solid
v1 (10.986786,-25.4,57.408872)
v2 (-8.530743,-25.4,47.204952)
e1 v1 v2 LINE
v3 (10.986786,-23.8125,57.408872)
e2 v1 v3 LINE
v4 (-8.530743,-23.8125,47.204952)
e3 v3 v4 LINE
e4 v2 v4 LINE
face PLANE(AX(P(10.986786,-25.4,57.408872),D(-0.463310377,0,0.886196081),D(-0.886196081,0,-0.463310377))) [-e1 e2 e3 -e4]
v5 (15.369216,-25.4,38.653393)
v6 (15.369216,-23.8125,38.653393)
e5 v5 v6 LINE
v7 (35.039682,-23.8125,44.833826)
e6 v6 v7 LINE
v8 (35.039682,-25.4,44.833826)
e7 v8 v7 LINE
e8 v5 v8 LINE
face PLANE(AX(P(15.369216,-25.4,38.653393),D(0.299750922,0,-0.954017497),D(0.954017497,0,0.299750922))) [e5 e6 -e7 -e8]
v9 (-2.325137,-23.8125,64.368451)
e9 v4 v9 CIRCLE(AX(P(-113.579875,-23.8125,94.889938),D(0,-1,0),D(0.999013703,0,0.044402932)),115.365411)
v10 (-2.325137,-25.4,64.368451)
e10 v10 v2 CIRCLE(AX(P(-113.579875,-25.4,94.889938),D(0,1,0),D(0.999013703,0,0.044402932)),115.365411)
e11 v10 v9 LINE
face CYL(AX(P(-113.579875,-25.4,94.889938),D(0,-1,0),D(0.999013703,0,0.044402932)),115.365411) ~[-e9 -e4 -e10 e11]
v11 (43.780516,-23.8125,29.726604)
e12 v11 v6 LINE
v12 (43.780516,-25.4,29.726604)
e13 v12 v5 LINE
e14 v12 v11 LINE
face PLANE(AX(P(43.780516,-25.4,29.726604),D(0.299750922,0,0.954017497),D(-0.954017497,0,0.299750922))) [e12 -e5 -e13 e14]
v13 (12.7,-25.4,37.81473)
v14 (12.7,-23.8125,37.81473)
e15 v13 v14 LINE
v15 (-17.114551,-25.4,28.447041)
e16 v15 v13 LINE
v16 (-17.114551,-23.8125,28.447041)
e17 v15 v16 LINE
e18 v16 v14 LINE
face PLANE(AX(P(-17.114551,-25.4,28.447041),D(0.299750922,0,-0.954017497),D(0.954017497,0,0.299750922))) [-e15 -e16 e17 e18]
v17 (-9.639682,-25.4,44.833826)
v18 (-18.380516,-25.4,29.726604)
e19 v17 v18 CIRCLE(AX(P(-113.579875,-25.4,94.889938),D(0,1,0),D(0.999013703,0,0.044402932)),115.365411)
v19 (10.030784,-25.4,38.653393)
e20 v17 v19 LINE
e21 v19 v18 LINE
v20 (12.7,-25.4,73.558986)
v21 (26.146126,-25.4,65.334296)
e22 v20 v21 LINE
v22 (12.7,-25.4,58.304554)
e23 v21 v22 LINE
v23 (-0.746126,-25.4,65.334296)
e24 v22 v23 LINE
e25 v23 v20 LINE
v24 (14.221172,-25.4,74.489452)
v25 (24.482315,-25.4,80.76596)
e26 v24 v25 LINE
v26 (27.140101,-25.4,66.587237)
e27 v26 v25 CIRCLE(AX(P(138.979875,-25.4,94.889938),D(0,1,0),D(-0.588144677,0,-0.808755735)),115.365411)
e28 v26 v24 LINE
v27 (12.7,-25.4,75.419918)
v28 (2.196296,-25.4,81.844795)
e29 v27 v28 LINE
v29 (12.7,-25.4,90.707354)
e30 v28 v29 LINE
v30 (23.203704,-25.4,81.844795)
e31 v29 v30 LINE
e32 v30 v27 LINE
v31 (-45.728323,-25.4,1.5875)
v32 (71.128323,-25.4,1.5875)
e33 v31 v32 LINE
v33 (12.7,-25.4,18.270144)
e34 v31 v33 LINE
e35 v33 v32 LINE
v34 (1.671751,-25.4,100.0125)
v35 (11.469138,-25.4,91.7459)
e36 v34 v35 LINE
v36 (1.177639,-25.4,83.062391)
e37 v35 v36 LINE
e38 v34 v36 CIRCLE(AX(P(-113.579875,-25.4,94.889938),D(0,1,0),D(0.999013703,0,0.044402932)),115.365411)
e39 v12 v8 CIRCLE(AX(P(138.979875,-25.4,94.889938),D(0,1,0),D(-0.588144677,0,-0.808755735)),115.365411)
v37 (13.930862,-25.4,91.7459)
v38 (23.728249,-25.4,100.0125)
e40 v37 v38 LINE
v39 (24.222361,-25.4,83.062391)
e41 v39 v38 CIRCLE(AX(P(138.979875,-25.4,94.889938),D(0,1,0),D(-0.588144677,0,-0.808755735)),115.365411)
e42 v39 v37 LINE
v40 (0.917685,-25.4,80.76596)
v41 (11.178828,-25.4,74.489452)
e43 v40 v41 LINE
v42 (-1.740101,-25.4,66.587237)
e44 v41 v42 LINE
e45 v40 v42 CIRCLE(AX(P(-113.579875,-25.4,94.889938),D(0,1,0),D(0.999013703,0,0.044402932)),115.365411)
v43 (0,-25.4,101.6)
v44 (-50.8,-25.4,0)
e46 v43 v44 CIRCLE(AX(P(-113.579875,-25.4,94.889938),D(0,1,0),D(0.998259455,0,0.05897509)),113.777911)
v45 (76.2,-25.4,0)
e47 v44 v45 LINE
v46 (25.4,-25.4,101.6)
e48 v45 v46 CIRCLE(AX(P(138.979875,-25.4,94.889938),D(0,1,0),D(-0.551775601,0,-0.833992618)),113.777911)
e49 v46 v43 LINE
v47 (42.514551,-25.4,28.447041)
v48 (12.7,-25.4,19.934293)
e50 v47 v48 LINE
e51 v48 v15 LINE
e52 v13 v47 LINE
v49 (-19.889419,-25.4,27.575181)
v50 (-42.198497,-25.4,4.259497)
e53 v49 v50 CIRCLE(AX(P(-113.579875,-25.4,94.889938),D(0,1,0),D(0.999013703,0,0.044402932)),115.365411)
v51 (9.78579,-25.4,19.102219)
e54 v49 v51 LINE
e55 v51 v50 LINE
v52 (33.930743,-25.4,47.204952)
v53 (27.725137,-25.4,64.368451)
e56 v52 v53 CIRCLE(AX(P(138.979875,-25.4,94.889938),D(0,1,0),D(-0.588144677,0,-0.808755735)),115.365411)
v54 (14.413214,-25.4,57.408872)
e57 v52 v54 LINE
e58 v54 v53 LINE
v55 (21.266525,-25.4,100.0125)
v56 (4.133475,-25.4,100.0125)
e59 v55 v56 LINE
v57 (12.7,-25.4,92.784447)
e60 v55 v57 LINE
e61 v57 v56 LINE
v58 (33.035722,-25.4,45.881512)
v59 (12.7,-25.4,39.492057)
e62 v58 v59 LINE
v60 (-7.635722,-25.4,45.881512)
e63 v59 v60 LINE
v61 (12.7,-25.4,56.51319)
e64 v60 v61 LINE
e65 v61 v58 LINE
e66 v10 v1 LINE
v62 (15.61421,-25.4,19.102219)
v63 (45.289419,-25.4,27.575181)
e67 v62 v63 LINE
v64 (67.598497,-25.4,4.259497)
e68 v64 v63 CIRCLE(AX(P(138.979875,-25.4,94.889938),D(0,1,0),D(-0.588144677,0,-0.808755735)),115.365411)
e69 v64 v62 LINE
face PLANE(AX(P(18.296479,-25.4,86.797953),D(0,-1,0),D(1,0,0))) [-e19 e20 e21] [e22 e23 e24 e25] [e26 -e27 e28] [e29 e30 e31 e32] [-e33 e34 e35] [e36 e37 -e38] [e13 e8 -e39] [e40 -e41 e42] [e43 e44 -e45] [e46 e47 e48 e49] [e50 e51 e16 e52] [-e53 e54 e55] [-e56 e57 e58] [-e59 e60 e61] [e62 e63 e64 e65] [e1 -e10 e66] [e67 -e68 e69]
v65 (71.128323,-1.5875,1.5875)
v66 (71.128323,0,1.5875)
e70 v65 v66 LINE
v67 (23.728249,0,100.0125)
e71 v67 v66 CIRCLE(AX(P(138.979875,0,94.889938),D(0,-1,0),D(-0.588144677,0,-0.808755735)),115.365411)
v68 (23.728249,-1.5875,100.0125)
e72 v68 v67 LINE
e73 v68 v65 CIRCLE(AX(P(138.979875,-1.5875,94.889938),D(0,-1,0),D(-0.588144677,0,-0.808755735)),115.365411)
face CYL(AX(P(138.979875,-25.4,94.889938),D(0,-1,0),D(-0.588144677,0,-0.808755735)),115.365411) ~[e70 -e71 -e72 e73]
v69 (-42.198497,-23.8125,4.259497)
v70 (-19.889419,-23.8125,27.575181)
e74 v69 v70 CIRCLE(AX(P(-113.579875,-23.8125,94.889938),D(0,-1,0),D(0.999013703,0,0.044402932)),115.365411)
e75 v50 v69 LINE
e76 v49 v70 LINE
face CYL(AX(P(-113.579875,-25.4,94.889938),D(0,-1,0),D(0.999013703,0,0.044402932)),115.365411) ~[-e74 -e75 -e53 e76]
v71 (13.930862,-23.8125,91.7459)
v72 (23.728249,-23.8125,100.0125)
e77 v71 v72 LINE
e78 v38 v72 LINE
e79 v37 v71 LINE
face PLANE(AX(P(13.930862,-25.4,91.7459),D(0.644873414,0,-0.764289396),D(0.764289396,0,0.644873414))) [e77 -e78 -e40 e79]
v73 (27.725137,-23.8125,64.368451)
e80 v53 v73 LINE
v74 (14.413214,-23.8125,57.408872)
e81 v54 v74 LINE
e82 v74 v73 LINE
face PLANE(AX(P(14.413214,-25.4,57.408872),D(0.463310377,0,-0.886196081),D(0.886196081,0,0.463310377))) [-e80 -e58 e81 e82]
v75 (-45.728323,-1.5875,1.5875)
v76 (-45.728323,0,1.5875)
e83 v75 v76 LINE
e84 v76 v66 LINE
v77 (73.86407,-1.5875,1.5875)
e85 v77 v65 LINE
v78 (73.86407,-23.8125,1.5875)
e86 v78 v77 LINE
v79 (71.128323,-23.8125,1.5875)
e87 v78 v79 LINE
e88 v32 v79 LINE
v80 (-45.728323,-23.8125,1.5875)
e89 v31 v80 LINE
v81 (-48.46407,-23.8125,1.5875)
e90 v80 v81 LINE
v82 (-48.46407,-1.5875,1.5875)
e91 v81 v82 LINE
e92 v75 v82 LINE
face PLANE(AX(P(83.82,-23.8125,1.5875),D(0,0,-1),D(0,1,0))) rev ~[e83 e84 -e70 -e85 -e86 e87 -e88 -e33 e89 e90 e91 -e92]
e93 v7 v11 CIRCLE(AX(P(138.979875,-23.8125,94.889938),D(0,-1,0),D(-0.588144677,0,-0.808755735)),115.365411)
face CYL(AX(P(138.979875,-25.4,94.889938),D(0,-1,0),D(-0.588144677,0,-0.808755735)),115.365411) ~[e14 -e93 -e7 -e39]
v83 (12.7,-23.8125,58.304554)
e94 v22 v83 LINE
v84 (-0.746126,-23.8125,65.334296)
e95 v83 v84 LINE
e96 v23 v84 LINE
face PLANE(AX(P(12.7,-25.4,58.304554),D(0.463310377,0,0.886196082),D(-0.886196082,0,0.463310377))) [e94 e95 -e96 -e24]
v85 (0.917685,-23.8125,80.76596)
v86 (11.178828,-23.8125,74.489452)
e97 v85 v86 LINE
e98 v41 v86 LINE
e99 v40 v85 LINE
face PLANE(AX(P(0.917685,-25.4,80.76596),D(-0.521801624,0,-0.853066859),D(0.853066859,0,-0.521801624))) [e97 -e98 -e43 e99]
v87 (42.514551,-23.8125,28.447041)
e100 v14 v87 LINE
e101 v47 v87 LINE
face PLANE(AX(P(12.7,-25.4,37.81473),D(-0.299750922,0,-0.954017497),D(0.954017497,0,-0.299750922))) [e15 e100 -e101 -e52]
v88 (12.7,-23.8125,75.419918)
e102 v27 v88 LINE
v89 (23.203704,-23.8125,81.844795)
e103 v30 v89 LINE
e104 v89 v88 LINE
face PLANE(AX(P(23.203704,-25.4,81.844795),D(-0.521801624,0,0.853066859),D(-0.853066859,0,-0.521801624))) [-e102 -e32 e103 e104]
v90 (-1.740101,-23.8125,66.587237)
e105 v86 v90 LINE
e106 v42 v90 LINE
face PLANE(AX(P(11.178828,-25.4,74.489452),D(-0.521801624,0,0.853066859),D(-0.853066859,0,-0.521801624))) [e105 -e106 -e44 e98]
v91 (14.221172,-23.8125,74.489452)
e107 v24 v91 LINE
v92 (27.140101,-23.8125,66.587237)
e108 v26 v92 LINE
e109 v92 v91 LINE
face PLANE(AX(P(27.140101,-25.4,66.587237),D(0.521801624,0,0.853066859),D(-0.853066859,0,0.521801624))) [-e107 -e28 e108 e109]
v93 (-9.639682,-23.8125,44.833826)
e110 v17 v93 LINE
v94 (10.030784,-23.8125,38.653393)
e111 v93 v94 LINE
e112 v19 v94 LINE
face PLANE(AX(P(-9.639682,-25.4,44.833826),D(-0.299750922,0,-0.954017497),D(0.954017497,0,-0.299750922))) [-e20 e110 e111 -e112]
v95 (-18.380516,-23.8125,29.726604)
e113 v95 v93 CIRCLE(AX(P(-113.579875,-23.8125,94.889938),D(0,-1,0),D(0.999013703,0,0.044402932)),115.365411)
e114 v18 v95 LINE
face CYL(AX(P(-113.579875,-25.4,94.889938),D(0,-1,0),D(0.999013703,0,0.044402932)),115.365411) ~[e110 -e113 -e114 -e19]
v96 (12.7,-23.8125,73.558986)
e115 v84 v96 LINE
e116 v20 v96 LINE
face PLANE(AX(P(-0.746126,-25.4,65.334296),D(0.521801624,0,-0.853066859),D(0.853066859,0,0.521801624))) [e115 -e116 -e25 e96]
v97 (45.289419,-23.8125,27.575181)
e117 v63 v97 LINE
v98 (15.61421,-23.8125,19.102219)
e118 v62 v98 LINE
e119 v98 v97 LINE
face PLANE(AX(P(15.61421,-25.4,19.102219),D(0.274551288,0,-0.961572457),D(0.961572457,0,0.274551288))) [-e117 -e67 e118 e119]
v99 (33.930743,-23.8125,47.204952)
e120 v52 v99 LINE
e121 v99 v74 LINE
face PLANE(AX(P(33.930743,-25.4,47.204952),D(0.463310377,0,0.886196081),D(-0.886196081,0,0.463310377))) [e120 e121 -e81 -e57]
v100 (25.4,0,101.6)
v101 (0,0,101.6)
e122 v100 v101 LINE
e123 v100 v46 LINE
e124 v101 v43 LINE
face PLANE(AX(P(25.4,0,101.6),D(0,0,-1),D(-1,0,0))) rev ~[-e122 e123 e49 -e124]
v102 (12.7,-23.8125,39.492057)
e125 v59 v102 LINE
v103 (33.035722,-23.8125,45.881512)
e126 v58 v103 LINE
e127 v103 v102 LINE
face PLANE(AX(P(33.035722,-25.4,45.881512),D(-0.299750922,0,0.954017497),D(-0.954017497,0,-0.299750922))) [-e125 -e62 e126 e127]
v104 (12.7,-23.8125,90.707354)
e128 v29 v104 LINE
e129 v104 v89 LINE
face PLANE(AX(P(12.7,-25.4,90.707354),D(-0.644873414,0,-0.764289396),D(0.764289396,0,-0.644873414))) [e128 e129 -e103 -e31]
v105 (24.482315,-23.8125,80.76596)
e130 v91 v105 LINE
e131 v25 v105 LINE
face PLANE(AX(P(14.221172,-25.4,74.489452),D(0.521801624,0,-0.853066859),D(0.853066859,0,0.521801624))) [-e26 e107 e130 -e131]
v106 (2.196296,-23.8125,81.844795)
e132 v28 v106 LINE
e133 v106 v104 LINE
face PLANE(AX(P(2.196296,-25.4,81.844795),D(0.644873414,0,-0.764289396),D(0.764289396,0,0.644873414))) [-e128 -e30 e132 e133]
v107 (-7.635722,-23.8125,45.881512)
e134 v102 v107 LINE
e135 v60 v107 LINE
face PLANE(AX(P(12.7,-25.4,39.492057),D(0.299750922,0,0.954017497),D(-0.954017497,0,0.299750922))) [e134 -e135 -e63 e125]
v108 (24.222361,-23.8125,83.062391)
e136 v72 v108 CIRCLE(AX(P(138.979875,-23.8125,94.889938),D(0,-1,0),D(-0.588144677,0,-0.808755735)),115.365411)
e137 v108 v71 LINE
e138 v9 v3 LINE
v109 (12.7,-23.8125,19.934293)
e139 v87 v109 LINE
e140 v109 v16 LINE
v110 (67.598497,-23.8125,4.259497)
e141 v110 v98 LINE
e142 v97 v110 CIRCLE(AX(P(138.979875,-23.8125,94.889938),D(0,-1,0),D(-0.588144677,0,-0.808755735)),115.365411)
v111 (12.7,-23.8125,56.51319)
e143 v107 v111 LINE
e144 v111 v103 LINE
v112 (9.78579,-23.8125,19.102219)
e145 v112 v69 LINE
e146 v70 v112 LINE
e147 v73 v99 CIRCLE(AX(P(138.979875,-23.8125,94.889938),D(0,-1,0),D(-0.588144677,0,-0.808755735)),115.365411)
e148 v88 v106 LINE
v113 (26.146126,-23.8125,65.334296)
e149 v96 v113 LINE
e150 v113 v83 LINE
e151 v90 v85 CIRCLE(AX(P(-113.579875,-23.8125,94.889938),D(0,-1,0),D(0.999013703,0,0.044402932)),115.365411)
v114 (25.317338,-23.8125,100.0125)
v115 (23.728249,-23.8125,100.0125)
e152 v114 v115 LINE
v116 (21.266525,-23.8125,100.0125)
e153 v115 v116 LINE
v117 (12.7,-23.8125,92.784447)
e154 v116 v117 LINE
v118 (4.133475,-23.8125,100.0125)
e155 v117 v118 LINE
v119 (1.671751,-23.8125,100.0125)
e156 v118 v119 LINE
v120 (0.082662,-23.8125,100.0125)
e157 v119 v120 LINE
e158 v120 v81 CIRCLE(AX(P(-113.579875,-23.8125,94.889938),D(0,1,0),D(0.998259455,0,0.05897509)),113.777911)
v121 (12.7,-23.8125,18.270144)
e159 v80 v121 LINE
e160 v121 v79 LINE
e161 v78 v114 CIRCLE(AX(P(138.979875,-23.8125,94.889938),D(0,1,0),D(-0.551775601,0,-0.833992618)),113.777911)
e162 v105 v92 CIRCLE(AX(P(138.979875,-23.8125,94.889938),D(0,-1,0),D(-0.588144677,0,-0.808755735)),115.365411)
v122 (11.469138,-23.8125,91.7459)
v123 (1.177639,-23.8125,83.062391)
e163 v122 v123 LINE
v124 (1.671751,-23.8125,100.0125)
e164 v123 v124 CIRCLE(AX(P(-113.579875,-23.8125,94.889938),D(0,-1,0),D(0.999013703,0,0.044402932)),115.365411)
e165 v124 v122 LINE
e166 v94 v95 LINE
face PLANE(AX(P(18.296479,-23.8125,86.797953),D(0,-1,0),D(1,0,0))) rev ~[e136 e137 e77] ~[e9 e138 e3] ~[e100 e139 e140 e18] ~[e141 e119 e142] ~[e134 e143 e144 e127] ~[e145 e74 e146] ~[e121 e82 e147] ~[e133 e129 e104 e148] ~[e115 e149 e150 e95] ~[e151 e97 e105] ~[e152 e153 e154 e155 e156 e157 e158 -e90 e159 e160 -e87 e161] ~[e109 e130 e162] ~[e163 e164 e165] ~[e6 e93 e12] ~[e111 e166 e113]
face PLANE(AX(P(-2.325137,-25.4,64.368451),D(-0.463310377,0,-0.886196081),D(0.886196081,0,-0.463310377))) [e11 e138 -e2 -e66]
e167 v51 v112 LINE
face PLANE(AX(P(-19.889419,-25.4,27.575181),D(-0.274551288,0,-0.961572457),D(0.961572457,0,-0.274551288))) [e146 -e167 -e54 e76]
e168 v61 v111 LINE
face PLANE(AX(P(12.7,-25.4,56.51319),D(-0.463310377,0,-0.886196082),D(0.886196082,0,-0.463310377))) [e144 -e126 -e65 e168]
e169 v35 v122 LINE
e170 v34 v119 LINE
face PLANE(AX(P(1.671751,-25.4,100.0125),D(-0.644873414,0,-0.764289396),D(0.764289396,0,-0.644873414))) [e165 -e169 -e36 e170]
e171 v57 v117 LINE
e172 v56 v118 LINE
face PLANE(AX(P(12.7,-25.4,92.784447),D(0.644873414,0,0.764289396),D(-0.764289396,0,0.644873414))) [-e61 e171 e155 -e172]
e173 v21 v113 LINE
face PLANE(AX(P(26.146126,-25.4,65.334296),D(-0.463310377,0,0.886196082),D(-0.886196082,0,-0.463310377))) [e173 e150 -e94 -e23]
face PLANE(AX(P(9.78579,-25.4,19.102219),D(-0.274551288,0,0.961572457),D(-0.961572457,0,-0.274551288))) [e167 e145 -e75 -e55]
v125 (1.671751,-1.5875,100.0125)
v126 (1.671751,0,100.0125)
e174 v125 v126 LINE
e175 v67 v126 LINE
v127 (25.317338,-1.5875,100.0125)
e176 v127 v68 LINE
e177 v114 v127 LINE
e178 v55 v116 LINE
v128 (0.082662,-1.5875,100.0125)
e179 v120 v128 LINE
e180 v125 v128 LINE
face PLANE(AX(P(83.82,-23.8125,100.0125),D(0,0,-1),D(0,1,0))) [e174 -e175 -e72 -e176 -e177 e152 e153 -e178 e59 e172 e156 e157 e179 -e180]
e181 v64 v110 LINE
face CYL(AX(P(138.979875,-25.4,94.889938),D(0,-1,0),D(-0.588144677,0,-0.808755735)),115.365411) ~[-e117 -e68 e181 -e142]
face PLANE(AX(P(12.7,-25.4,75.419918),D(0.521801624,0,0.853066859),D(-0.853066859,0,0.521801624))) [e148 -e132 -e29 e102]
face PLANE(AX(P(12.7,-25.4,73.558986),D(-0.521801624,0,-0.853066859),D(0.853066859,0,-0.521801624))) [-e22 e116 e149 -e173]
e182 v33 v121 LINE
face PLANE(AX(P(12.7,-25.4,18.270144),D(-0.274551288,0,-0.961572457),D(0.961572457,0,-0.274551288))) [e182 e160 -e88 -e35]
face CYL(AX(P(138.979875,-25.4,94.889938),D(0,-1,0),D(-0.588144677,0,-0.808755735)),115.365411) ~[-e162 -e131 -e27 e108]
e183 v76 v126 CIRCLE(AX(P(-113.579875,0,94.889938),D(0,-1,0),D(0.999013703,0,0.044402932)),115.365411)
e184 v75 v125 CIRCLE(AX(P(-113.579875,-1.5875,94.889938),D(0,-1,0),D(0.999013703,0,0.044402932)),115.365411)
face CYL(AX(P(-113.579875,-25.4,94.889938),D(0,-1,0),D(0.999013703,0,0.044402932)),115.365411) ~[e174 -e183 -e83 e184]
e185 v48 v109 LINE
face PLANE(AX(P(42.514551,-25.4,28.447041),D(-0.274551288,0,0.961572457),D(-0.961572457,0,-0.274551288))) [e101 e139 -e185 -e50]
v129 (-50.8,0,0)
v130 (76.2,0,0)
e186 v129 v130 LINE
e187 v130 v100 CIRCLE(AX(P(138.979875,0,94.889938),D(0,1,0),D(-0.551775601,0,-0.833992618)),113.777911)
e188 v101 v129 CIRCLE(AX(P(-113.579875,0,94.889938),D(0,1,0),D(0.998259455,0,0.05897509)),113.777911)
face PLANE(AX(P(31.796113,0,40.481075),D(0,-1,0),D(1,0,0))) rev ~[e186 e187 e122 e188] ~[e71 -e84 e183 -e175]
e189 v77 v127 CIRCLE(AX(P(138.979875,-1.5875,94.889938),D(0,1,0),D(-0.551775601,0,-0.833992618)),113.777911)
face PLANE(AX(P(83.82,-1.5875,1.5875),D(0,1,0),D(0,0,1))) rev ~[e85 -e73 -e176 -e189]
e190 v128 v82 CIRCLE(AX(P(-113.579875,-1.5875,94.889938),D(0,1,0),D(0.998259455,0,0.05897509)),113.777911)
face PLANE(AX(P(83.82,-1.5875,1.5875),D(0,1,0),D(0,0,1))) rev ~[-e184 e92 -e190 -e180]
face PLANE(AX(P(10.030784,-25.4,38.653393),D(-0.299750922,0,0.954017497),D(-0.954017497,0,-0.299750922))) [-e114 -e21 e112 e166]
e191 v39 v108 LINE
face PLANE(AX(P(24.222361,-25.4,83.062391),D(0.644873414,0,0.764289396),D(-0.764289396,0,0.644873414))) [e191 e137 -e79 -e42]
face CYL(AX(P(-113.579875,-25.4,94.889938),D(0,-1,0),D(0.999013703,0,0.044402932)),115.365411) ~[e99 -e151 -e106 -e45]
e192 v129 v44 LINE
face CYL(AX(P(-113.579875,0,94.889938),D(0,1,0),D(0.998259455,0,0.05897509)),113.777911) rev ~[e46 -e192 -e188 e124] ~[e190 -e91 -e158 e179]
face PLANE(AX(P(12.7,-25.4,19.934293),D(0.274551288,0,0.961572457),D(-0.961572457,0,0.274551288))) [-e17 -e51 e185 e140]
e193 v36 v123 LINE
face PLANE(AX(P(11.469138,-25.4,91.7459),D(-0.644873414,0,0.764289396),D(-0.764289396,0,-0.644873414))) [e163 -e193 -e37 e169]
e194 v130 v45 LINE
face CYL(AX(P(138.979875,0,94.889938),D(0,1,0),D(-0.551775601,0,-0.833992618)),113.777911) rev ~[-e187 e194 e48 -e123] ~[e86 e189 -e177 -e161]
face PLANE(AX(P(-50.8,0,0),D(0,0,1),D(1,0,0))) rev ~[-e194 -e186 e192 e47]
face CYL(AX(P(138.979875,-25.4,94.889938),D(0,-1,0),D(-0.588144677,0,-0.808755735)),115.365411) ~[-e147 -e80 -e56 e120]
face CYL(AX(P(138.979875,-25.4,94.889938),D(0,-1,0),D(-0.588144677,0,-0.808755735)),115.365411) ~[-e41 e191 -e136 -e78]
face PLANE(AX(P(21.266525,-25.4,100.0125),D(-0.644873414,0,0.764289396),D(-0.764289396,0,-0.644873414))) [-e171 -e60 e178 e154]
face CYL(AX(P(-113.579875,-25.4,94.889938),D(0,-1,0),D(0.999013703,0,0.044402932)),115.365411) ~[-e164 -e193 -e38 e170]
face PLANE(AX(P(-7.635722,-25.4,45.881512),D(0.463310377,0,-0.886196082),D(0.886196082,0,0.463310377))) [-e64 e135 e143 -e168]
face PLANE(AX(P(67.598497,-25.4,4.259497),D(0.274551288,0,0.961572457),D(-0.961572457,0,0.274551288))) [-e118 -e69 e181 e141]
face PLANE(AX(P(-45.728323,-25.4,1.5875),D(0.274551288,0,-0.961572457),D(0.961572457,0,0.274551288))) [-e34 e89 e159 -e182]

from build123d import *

# Parameters (mm, degrees)
F1_DEPTH = 25.4
F3_DEPTH = 25.401
F5_W     = 22.225
F5_H     = 98.425
F6_DEPTH = 134.621
F8_DEPTH = 1.5875


with BuildPart() as f1:
    # F0 (on Front) → F1 (new body)
    with BuildSketch(Plane.XZ):
        with BuildLine():
            Line((12.7, 101.6), (12.7, 0))
            Line((12.7, 0), (76.2, 0))
            ThreePointArc((76.2, 0), (37.2138180159, 44.0069090079), (25.4, 101.6))
            Line((25.4, 101.6), (12.7, 101.6))
        make_face()
        with BuildLine():
            Line((-50.8, 0), (12.7, 0))
            Line((12.7, 0), (12.7, 101.6))
            Line((12.7, 101.6), (0, 101.6))
            ThreePointArc((0, 101.6), (-11.8138180159, 44.0069090079), (-50.8, 0))
        make_face()
    extrude(amount=F1_DEPTH)

    # F2 (on face) → F3 (cut, through all)
    with BuildSketch(Plane.XZ.offset(25.4)):
        with BuildLine():
            ThreePointArc((71.1283228984, 1.5875), (35.0396824726, 44.8338255614), (23.7282488961, 100.0125))
            Line((23.7282488961, 100.0125), (1.6717511039, 100.0125))
            ThreePointArc((1.6717511039, 100.0125), (-9.6396824726, 44.8338255614), (-45.7283228984, 1.5875))
            Line((-45.7283228984, 1.5875), (71.1283228984, 1.5875))
        make_face()
    extrude(amount=-F3_DEPTH, mode=Mode.SUBTRACT)

    # F5 (on offset) → F6 (cut, through all)
    with BuildSketch(Plane.YZ.offset(83.82)):
        with Locations((-12.7, 50.8)):
            Rectangle(F5_W, F5_H)
    extrude(amount=-F6_DEPTH, mode=Mode.SUBTRACT)

    # F7 (on face) → F8 (join)
    with BuildSketch(Plane.XZ.offset(25.4)):
        with BuildLine():
            Line((13.9308617211, 91.7459002665), (23.7282488961, 100.0125))
            Line((23.7282488961, 100.0125), (21.2665254539, 100.0125))
            Line((21.2665254539, 100.0125), (12.7, 92.784446666))
            Line((12.7, 92.784446666), (12.7, 90.7073538669))
            Line((12.7, 90.7073538669), (23.203703887, 81.8447954927))
            Line((23.203703887, 81.8447954927), (12.7, 75.4199183699))
            Line((12.7, 75.4199183699), (12.7, 73.5589856846))
            Line((12.7, 73.5589856846), (14.2211719622, 74.4894520272))
            Line((14.2211719622, 74.4894520272), (24.4823150631, 80.7659602259))
            ThreePointArc((24.4823150631, 80.7659602259), (24.3465871841, 81.9135246636), (24.2223606039, 83.0623910408))
            Line((24.2223606039, 83.0623910408), (13.9308617211, 91.7459002665))
        make_face()
        with BuildLine():
            Line((12.7, 90.7073538669), (12.7, 92.784446666))
            Line((12.7, 92.784446666), (4.1334745461, 100.0125))
            Line((4.1334745461, 100.0125), (1.6717511039, 100.0125))
            Line((1.6717511039, 100.0125), (11.4691382789, 91.7459002665))
            Line((11.4691382789, 91.7459002665), (1.1776393961, 83.0623910408))
            ThreePointArc((1.1776393961, 83.0623910408), (1.0534128159, 81.9135246636), (0.9176849369, 80.7659602259))
            Line((0.9176849369, 80.7659602259), (11.1788280378, 74.4894520272))
            Line((11.1788280378, 74.4894520272), (-1.7401008163, 66.5872366432))
            ThreePointArc((-1.7401008163, 66.5872366432), (-1.8224554679, 66.2637756063), (-1.9057456257, 65.9405541952))
            Line((-1.9057456257, 65.9405541952), (-0.7461259732, 65.3342957957))
            Line((-0.7461259732, 65.3342957957), (12.7, 73.5589856846))
            Line((12.7, 73.5589856846), (12.7, 75.4199183699))
            Line((12.7, 75.4199183699), (2.196296113, 81.8447954927))
            Line((2.196296113, 81.8447954927), (12.7, 90.7073538669))
        make_face()
        with BuildLine():
            Line((27.1401008163, 66.5872366432), (14.2211719622, 74.4894520272))
            Line((14.2211719622, 74.4894520272), (12.7, 73.5589856846))
            Line((12.7, 73.5589856846), (26.1461259732, 65.3342957957))
            Line((26.1461259732, 65.3342957957), (27.3057456257, 65.9405541952))
            ThreePointArc((27.3057456257, 65.9405541952), (27.2224554679, 66.2637756063), (27.1401008163, 66.5872366432))
        make_face()
        with BuildLine():
            Line((12.7, 56.5131896629), (12.7, 58.3045539367))
            Line((12.7, 58.3045539367), (-0.7461259732, 65.3342957957))
            Line((-0.7461259732, 65.3342957957), (-2.3251365904, 64.3684508614))
            Line((-2.3251365904, 64.3684508614), (10.9867856194, 57.4088717998))
            Line((10.9867856194, 57.4088717998), (-8.5307429304, 47.204952269))
            ThreePointArc((-8.5307429304, 47.204952269), (-8.7388685778, 46.7490885521), (-8.9489724475, 46.2941331944))
            Line((-8.9489724475, 46.2941331944), (-7.6357223304, 45.8815119005))
            Line((-7.6357223304, 45.8815119005), (12.7, 56.5131896629))
        make_face()
        with BuildLine():
            Line((26.1461259732, 65.3342957957), (12.7, 58.3045539367))
            Line((12.7, 58.3045539367), (12.7, 56.5131896629))
            Line((12.7, 56.5131896629), (33.0357223304, 45.8815119005))
            Line((33.0357223304, 45.8815119005), (34.3489724475, 46.2941331944))
            ThreePointArc((34.3489724475, 46.2941331944), (34.1388685778, 46.7490885521), (33.9307429304, 47.204952269))
            Line((33.9307429304, 47.204952269), (14.4132143806, 57.4088717998))
            Line((14.4132143806, 57.4088717998), (27.7251365904, 64.3684508614))
            Line((27.7251365904, 64.3684508614), (26.1461259732, 65.3342957957))
        make_face()
        with BuildLine():
            Line((12.7, 37.8147295273), (12.7, 39.4920572546))
            Line((12.7, 39.4920572546), (-7.6357223304, 45.8815119005))
            Line((-7.6357223304, 45.8815119005), (-9.6396824726, 44.8338255614))
            Line((-9.6396824726, 44.8338255614), (10.030783861, 38.653393391))
            Line((10.030783861, 38.653393391), (-18.3805162111, 29.7266038582))
            ThreePointArc((-18.3805162111, 29.7266038582), (-18.6444962244, 29.3426124449), (-18.9100250772, 28.9596904146))
            Line((-18.9100250772, 28.9596904146), (-17.1145505748, 28.4470407091))
            Line((-17.1145505748, 28.4470407091), (12.7, 37.8147295273))
        make_face()
        with BuildLine():
            Line((33.0357223304, 45.8815119005), (12.7, 39.4920572546))
            Line((12.7, 39.4920572546), (12.7, 37.8147295273))
            Line((12.7, 37.8147295273), (42.5145505748, 28.4470407091))
            Line((42.5145505748, 28.4470407091), (44.3100250772, 28.9596904146))
            ThreePointArc((44.3100250772, 28.9596904146), (44.0444962244, 29.3426124449), (43.7805162111, 29.7266038582))
            Line((43.7805162111, 29.7266038582), (15.369216139, 38.653393391))
            Line((15.369216139, 38.653393391), (35.0396824726, 44.8338255614))
            Line((35.0396824726, 44.8338255614), (33.0357223304, 45.8815119005))
        make_face()
        with BuildLine():
            Line((42.5145505748, 28.4470407091), (12.7, 19.9342934931))
            Line((12.7, 19.9342934931), (12.7, 18.2701443298))
            Line((12.7, 18.2701443298), (71.1283228984, 1.5875))
            ThreePointArc((71.1283228984, 1.5875), (69.3505916333, 2.9065647427), (67.5984969335, 4.2594965256))
            Line((67.5984969335, 4.2594965256), (15.6142096044, 19.1022189114))
            Line((15.6142096044, 19.1022189114), (45.2894191126, 27.575181014))
            Line((45.2894191126, 27.575181014), (42.5145505748, 28.4470407091))
        make_face()
        with BuildLine():
            Line((12.7, 18.2701443298), (12.7, 19.9342934931))
            Line((12.7, 19.9342934931), (-17.1145505748, 28.4470407091))
            Line((-17.1145505748, 28.4470407091), (-19.8894191126, 27.575181014))
            Line((-19.8894191126, 27.575181014), (9.7857903956, 19.1022189114))
            Line((9.7857903956, 19.1022189114), (-42.1984969335, 4.2594965256))
            ThreePointArc((-42.1984969335, 4.2594965256), (-43.9505916333, 2.9065647427), (-45.7283228984, 1.5875))
            Line((-45.7283228984, 1.5875), (12.7, 18.2701443298))
        make_face()
        with BuildLine():
            Line((-19.8894191126, 27.575181014), (-17.1145505748, 28.4470407091))
            Line((-17.1145505748, 28.4470407091), (-18.9100250772, 28.9596904146))
            ThreePointArc((-18.9100250772, 28.9596904146), (-19.3971779809, 28.2656360226), (-19.8894191126, 27.575181014))
        make_face()
        with BuildLine():
            Line((34.3489724475, 46.2941331944), (33.0357223304, 45.8815119005))
            Line((33.0357223304, 45.8815119005), (35.0396824726, 44.8338255614))
            ThreePointArc((35.0396824726, 44.8338255614), (34.6917714104, 45.5627703936), (34.3489724475, 46.2941331944))
        make_face()
        with BuildLine():
            Line((44.3100250772, 28.9596904146), (42.5145505748, 28.4470407091))
            Line((42.5145505748, 28.4470407091), (45.2894191126, 27.575181014))
            ThreePointArc((45.2894191126, 27.575181014), (44.7971779809, 28.2656360226), (44.3100250772, 28.9596904146))
        make_face()
        with BuildLine():
            Line((-9.6396824726, 44.8338255614), (-7.6357223304, 45.8815119005))
            Line((-7.6357223304, 45.8815119005), (-8.9489724475, 46.2941331944))
            ThreePointArc((-8.9489724475, 46.2941331944), (-9.2917714104, 45.5627703936), (-9.6396824726, 44.8338255614))
        make_face()
        with BuildLine():
            ThreePointArc((27.7251365904, 64.3684508614), (27.5126695085, 65.153763147), (27.3057456257, 65.9405541952))
            Line((27.3057456257, 65.9405541952), (26.1461259732, 65.3342957957))
            Line((26.1461259732, 65.3342957957), (27.7251365904, 64.3684508614))
        make_face()
        with BuildLine():
            Line((-2.3251365904, 64.3684508614), (-0.7461259732, 65.3342957957))
            Line((-0.7461259732, 65.3342957957), (-1.9057456257, 65.9405541952))
            ThreePointArc((-1.9057456257, 65.9405541952), (-2.1126695085, 65.153763147), (-2.3251365904, 64.3684508614))
        make_face()
    extrude(amount=-F8_DEPTH)


solid = f1.part
